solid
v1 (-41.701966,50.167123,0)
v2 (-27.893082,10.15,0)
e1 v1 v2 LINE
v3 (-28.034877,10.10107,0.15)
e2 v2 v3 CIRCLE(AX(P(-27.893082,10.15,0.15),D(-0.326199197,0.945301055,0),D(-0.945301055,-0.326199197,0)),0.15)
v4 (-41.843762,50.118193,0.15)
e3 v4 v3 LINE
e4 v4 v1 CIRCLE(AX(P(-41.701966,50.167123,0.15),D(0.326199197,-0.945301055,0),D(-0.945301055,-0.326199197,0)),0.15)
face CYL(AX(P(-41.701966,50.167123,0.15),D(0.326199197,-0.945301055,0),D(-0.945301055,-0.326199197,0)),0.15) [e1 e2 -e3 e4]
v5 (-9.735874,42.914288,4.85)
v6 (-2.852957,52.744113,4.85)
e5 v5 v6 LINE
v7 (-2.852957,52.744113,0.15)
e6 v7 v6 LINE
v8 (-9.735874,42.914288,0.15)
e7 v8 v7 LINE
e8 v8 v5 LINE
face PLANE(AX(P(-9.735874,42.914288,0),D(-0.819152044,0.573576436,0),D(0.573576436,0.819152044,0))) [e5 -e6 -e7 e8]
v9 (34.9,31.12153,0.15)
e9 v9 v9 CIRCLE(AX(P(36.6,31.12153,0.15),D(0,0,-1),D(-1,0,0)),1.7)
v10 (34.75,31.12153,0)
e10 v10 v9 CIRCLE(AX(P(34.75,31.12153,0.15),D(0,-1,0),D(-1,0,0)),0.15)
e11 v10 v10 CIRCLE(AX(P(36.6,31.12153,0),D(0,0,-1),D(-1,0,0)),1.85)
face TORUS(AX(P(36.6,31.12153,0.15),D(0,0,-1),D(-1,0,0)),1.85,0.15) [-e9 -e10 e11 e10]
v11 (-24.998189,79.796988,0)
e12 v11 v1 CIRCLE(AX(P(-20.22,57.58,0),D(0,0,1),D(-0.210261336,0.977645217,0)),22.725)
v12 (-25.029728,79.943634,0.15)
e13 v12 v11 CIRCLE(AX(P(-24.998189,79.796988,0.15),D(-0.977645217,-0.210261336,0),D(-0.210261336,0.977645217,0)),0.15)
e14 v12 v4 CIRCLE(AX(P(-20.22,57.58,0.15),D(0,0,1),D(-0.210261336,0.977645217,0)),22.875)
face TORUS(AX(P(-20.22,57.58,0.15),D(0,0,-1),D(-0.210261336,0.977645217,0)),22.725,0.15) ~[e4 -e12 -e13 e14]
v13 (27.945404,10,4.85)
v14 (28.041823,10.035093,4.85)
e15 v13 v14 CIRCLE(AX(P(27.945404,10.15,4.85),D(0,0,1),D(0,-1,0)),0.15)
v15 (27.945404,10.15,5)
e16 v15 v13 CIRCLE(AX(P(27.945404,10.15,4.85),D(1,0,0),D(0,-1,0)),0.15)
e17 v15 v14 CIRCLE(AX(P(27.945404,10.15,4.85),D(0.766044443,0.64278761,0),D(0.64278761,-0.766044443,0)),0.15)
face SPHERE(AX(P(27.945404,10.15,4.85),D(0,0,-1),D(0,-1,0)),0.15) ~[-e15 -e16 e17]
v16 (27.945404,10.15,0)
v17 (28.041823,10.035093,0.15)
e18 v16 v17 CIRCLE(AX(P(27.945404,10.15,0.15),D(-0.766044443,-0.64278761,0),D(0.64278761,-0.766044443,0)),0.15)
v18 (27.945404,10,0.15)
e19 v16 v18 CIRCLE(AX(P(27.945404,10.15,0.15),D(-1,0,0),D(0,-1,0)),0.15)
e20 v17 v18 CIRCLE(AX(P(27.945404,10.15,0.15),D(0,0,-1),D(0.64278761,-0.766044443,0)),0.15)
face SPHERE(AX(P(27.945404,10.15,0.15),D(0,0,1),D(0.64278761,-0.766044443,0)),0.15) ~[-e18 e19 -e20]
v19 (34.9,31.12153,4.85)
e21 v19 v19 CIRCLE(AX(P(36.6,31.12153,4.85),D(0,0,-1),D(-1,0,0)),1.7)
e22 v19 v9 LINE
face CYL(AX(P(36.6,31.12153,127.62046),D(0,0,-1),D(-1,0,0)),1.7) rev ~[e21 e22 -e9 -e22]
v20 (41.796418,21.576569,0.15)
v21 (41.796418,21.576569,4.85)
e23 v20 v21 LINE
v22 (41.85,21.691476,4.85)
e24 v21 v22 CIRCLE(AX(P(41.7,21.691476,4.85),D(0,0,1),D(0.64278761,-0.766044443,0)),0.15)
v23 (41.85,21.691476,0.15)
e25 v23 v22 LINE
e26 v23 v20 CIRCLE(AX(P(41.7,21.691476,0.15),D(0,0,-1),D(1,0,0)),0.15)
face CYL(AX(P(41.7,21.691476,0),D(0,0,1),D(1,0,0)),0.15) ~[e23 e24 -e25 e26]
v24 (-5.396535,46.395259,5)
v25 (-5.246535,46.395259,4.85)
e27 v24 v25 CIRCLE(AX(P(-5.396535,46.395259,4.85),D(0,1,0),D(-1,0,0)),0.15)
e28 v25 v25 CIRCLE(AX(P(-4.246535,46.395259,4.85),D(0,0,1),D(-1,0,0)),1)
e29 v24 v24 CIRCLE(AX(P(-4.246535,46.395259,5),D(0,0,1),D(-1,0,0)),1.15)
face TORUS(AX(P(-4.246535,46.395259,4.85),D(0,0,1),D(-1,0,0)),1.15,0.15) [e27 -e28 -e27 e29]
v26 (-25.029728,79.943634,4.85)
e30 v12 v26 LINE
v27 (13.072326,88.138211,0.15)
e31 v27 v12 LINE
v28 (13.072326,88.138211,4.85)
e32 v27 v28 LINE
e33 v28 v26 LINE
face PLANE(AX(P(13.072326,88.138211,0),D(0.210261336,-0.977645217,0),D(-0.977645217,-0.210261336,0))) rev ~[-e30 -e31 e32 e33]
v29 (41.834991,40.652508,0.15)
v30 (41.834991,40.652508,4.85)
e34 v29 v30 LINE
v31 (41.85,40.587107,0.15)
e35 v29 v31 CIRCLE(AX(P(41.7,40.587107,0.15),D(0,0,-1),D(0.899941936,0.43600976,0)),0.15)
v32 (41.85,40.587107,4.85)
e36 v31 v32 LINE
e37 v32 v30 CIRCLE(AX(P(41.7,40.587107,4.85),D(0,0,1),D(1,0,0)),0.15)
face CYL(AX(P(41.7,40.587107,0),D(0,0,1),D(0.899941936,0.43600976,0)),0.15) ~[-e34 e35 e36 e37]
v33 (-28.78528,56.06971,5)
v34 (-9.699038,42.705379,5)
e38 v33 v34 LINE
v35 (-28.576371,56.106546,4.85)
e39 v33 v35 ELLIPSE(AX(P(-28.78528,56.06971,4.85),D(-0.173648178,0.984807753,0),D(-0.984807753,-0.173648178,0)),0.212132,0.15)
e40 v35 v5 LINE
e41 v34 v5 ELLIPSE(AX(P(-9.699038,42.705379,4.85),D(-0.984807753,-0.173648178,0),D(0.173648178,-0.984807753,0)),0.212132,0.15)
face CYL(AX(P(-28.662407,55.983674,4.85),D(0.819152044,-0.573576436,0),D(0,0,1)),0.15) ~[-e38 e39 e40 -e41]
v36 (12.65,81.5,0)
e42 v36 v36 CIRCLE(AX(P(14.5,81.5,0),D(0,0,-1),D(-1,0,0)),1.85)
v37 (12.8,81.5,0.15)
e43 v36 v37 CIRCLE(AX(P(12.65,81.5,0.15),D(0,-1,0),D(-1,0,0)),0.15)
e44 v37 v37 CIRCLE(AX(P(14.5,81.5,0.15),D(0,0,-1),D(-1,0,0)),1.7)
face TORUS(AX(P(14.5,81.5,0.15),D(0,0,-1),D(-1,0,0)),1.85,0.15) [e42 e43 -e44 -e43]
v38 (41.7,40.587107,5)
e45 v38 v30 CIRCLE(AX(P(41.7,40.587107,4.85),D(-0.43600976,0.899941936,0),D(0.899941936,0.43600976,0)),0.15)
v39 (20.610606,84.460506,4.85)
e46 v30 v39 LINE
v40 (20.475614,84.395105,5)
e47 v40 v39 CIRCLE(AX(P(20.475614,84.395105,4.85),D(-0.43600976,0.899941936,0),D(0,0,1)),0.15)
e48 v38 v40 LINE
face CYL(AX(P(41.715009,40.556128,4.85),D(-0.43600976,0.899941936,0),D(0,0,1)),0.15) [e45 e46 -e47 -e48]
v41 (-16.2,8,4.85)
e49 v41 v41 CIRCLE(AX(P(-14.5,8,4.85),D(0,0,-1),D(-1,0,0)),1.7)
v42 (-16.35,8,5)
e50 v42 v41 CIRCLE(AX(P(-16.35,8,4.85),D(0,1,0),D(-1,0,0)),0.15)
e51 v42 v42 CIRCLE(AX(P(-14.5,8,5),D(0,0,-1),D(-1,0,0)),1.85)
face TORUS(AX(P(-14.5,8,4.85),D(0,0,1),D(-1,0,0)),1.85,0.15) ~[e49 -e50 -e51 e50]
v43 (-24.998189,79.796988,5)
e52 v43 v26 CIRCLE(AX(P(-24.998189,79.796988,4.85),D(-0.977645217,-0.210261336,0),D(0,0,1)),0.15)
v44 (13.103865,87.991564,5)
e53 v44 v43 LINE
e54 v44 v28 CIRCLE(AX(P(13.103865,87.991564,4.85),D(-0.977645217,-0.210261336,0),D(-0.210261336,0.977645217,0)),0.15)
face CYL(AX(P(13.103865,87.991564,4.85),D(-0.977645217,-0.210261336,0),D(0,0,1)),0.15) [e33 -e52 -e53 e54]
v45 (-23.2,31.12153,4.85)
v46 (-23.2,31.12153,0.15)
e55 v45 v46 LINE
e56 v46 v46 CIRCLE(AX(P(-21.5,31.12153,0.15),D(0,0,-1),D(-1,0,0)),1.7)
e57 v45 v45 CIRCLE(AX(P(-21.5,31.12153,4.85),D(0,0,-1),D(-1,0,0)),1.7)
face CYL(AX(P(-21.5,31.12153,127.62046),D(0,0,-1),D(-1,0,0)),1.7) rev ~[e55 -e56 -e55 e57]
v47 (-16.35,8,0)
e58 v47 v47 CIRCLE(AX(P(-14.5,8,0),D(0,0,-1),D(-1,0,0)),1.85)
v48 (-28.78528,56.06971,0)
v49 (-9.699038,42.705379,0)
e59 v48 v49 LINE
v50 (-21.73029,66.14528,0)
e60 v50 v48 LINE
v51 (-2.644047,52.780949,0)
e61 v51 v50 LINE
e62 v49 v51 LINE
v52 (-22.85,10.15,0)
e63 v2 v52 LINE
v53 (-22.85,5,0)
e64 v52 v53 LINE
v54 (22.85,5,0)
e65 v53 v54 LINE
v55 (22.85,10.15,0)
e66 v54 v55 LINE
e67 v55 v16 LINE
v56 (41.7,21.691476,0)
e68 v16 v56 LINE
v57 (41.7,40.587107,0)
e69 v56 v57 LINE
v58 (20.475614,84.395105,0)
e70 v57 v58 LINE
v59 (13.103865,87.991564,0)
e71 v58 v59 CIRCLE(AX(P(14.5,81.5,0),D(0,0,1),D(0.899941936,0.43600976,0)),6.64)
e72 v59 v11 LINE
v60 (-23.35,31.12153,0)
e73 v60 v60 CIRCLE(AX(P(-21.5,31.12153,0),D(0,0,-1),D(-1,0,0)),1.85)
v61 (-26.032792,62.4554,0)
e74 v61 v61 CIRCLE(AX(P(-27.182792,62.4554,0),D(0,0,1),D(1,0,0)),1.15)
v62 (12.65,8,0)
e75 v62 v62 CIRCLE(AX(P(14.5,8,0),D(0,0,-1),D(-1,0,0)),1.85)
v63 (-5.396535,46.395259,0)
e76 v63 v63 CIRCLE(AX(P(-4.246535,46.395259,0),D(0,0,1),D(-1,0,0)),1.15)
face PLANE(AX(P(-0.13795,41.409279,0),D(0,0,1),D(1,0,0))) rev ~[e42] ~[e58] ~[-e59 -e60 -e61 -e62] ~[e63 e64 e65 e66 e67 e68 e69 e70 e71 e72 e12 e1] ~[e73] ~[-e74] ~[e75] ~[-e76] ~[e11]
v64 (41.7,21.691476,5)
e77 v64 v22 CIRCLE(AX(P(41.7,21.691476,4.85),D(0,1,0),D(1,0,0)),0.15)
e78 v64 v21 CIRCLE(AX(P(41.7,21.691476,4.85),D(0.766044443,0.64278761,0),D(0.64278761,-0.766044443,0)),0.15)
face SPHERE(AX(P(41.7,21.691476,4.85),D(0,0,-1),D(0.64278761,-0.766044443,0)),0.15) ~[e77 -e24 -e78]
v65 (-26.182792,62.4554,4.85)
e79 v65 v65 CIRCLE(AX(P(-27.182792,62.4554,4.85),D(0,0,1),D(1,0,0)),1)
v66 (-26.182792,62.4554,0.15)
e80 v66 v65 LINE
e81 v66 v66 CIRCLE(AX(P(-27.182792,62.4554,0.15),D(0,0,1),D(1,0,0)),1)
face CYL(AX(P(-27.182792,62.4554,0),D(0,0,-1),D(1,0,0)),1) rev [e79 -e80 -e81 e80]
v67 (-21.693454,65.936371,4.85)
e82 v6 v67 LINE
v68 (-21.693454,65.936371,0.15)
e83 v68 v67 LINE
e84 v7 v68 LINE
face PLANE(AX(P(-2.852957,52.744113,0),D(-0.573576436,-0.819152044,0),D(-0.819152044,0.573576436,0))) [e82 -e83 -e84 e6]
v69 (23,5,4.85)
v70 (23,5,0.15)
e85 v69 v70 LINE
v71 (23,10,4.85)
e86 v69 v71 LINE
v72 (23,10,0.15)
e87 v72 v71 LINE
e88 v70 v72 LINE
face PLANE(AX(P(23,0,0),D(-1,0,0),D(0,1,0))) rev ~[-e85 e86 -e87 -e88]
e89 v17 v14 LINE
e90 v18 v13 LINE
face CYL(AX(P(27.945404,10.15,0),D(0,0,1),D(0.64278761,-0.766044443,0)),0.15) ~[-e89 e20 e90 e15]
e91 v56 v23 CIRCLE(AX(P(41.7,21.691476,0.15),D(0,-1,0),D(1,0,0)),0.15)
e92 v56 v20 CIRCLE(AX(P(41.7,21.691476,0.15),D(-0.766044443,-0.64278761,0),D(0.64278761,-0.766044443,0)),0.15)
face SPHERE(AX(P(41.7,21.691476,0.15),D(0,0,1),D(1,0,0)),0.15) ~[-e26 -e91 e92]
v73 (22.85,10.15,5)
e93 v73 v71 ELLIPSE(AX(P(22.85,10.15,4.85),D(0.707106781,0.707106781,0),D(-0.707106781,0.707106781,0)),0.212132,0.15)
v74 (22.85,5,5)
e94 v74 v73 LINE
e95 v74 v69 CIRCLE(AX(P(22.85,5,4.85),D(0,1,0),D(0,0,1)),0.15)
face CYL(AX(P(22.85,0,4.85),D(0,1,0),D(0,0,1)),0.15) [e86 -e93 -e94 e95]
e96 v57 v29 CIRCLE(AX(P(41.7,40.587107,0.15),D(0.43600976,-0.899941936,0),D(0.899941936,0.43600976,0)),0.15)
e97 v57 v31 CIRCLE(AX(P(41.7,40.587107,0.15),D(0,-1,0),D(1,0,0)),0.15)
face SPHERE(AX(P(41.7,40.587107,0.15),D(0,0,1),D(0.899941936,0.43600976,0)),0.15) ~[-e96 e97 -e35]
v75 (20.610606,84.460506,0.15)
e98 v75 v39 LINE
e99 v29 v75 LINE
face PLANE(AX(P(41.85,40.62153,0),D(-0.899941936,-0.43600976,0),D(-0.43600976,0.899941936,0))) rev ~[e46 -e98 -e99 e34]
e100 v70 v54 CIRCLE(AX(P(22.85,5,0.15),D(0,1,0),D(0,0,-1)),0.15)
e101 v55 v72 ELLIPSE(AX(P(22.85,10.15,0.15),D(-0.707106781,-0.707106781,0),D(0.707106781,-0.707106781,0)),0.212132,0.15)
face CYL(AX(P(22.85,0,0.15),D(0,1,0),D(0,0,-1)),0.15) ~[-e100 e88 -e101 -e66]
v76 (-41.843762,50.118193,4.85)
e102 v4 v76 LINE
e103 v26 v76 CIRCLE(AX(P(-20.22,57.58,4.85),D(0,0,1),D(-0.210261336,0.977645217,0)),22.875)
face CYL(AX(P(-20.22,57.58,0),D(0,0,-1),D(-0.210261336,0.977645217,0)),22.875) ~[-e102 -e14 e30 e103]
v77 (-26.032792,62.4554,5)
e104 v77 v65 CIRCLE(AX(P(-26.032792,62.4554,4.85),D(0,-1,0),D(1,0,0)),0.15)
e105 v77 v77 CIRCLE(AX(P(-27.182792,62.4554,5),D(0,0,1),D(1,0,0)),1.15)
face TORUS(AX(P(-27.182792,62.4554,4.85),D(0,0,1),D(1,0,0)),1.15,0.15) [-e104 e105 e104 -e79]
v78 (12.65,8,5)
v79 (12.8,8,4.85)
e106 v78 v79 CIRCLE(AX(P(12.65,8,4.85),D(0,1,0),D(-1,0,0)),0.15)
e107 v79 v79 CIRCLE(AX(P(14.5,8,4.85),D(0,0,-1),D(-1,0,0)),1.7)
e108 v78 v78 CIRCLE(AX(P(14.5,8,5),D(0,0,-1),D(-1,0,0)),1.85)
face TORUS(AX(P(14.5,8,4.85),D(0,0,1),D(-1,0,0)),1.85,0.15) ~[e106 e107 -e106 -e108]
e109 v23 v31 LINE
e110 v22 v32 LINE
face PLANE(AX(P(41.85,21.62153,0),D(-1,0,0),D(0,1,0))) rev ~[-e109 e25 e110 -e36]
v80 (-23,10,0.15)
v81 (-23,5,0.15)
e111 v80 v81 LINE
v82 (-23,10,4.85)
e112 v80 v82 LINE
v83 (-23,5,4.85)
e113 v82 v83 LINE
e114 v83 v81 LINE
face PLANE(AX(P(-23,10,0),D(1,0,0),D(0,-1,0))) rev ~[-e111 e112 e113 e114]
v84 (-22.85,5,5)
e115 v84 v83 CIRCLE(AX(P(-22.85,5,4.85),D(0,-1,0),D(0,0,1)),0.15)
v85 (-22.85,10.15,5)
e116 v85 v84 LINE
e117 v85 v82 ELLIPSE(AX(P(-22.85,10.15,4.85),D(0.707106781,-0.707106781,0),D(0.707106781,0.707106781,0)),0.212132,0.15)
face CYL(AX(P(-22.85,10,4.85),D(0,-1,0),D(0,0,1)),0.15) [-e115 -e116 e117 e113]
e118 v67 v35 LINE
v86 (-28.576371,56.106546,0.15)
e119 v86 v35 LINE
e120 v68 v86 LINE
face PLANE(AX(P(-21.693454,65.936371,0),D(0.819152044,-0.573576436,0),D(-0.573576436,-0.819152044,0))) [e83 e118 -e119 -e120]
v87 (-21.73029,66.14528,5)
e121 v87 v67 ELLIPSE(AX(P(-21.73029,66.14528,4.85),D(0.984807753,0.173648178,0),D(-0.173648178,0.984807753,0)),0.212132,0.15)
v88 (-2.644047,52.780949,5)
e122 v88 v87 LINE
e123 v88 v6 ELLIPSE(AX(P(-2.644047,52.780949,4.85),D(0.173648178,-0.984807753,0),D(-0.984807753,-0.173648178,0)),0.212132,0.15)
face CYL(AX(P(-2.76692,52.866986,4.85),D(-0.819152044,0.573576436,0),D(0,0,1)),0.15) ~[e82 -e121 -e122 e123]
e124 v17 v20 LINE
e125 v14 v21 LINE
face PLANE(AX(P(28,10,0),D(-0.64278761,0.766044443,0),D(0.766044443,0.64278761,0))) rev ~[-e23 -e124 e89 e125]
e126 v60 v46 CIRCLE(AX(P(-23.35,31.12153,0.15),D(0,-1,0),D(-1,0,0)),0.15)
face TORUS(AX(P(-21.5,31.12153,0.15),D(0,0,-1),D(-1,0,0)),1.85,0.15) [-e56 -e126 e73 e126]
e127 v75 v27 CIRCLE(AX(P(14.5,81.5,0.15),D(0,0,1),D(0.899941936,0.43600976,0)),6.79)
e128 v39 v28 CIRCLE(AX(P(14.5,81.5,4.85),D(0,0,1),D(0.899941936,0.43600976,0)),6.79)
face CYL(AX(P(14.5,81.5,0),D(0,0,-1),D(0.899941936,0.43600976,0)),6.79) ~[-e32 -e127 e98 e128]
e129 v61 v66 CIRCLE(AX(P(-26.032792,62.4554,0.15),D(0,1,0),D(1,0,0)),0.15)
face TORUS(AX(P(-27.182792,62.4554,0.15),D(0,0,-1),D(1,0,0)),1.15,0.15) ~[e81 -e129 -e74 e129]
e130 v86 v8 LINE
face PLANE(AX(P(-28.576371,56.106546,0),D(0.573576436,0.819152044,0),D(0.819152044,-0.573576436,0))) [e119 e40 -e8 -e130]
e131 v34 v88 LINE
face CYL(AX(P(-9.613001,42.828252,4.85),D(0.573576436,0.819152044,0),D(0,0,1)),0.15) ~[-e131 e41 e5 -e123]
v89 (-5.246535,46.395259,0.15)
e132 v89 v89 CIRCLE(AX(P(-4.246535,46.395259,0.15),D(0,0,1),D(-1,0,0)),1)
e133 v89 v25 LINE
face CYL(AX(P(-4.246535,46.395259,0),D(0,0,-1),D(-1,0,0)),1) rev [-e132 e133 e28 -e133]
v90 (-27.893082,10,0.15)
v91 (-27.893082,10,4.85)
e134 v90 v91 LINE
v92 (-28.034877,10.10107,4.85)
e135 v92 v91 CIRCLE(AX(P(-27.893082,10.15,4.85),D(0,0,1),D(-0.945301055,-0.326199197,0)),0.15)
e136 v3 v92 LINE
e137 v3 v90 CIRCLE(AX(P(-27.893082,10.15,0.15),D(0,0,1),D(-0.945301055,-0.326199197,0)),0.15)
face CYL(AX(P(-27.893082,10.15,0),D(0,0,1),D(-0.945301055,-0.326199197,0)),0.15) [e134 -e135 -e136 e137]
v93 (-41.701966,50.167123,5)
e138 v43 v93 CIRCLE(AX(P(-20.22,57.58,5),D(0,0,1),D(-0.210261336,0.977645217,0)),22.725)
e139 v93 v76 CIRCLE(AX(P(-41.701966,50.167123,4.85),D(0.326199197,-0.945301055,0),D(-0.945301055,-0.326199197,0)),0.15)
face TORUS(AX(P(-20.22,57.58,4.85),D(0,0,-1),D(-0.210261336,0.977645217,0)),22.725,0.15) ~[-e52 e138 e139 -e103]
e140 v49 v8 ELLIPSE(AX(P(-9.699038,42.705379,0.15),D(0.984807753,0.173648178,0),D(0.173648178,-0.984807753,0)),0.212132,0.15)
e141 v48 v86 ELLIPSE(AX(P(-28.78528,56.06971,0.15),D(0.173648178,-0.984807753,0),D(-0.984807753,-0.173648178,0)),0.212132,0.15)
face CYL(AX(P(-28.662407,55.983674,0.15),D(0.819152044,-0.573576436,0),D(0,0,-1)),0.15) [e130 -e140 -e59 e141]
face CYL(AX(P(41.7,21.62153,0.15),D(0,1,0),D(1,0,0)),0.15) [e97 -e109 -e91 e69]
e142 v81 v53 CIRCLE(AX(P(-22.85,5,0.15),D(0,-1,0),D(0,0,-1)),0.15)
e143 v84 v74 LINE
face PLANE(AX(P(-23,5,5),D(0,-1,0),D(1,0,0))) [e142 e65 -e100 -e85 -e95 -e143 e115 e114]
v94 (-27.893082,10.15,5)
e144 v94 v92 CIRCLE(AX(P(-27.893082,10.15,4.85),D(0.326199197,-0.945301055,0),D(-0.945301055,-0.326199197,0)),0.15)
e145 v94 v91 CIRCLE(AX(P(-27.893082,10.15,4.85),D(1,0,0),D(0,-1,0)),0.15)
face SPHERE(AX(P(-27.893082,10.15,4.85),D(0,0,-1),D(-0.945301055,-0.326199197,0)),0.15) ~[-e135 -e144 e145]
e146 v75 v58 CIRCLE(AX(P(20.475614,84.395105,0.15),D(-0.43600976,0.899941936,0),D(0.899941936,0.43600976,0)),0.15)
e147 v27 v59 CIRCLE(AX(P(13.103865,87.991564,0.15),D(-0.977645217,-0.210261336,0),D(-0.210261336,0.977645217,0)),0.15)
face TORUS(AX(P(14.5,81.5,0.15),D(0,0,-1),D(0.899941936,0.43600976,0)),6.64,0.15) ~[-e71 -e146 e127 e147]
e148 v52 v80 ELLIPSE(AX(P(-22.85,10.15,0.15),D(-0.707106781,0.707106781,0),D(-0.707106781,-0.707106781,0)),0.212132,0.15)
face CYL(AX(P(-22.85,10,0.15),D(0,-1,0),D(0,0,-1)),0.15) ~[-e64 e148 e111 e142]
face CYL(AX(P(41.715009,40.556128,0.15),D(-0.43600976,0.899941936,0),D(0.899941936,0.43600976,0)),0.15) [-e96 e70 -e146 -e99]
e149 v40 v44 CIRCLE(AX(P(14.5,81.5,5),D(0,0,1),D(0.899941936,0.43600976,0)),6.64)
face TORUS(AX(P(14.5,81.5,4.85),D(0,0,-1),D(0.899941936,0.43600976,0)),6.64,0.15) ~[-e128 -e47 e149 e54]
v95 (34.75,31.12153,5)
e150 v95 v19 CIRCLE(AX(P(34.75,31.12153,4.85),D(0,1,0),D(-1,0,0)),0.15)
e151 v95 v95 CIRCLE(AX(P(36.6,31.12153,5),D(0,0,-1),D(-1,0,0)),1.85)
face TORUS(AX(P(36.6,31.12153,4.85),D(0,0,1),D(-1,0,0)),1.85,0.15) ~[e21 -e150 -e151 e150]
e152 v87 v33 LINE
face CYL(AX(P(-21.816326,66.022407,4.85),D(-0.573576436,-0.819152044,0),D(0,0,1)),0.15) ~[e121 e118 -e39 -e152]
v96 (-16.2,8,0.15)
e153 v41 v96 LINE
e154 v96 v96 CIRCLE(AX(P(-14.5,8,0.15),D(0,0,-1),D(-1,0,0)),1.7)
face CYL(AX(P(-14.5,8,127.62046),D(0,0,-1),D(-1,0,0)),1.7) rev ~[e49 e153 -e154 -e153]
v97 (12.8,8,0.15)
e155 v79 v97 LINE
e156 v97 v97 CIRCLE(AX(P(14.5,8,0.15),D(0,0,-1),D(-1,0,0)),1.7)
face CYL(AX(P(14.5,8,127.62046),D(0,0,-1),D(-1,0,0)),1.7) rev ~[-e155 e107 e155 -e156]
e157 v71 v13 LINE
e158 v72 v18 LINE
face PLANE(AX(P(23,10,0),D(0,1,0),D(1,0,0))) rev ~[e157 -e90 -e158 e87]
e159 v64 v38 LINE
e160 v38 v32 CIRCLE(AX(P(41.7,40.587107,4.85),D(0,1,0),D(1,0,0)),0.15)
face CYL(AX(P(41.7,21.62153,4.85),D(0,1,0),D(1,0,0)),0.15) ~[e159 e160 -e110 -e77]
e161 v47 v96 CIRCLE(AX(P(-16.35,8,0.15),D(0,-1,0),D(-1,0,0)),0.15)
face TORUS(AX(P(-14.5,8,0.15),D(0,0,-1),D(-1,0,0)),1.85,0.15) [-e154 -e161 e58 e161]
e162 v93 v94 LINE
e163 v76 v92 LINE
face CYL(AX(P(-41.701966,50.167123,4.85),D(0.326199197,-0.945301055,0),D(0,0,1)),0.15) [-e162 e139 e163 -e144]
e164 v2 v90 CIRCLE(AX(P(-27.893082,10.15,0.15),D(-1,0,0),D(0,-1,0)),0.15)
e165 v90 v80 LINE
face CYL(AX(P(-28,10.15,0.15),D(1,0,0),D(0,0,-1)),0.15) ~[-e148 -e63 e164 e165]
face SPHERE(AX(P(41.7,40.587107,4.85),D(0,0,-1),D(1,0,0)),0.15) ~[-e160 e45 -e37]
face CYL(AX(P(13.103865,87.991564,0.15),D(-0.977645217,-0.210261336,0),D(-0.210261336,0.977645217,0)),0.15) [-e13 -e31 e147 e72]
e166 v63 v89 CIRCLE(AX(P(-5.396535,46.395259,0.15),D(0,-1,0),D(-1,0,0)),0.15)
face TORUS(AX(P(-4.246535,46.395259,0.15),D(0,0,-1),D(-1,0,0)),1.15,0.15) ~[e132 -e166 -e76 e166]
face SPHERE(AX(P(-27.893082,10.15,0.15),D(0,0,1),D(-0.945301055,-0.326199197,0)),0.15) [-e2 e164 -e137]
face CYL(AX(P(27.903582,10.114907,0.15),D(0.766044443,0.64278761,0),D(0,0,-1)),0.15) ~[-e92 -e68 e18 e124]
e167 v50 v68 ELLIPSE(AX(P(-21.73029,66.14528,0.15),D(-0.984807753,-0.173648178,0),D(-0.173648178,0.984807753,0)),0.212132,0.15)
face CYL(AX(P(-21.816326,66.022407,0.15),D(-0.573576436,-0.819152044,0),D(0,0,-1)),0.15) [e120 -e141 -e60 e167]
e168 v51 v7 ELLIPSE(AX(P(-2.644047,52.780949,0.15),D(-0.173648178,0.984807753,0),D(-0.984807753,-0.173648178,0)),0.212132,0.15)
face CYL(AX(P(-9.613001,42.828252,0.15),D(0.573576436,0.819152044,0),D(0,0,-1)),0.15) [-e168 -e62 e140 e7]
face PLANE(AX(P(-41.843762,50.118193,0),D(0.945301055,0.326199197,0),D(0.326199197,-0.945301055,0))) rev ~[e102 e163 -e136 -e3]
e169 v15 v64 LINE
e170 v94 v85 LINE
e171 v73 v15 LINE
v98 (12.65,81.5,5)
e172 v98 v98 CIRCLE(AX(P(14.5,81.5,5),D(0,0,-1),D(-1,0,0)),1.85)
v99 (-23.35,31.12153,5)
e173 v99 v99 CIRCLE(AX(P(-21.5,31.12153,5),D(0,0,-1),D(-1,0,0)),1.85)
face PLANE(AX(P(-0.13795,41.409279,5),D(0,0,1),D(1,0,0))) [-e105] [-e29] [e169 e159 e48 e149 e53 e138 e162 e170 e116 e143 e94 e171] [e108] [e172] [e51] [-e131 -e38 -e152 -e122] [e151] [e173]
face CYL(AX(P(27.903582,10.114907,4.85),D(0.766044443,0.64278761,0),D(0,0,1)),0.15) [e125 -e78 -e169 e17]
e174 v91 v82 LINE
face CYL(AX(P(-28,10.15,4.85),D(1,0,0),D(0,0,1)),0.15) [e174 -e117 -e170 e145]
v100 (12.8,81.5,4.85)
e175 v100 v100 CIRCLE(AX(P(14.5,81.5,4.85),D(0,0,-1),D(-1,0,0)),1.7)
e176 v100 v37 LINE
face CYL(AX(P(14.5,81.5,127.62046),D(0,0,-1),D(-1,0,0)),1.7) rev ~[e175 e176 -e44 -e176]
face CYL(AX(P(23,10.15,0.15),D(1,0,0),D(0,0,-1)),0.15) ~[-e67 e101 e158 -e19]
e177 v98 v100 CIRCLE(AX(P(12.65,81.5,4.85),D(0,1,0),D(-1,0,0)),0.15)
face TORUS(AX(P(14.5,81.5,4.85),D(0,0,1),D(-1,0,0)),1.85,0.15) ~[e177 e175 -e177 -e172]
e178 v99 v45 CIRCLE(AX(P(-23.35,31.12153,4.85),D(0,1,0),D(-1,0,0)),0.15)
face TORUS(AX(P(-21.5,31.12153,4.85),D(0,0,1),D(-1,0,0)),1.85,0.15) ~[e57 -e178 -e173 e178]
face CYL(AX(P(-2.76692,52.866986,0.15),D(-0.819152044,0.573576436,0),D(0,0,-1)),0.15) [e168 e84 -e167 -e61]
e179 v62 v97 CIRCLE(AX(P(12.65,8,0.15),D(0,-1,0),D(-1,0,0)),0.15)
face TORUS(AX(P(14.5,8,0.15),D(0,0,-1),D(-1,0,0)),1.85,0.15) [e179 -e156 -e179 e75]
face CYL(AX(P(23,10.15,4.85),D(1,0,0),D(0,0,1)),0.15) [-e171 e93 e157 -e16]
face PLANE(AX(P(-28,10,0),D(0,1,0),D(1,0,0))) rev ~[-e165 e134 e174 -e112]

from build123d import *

# Parameters (mm, degrees)
SKETCH1_R            = 1
BOSS_EXTRUDE2_DEPTH  = 5
M3_CLEARANCE_HOLE1_D = 3.4
FILLET1_R            = 0.15
SKETCH13_W           = 46
SKETCH13_H           = 5
CUT_EXTRUDE1_DEPTH   = 99.37328461


with BuildPart() as part:
    # Sketch1 → Boss-Extrude2 (new body)
    with BuildSketch(Plane.XY):
        with BuildLine():
            Line((41.85, 40.621529892), (20.610605748, 84.460506273))
            ThreePointArc((20.610605748, 84.460506273), (17.477220077, 87.602479874), (13.072325527, 88.138211024))
            Line((13.072325527, 88.138211024), (-25.029728066, 79.943634341))
            ThreePointArc((-25.029728066, 79.943634341), (-40.146654928, 68.813612437), (-41.843761624, 50.118193368))
            Line((-41.843761624, 50.118193368), (-28, 10))
            Line((-28, 10), (-23, 10))
            Line((-23, 10), (-23, 0))
            Line((-23, 0), (23, 0))
            Line((23, 0), (23, 10))
            Line((23, 10), (28, 10))
            Line((28, 10), (41.85, 21.621529892))
            Line((41.85, 21.621529892), (41.85, 40.621529892))
        make_face()
        with Locations((-27.182792376, 62.455399709)):
            Circle(SKETCH1_R, mode=Mode.SUBTRACT)
        with Locations(Location((-4.246535136, 46.395259491, 0), (0, 0, 180))):
            Circle(SKETCH1_R, mode=Mode.SUBTRACT)
        Polygon((-21.693453648, 65.936370884), (-28.576370884, 56.106546352), (-9.735873865, 42.914288316), (-2.852956629, 52.744112848), align=None, mode=Mode.SUBTRACT)
    extrude(amount=BOSS_EXTRUDE2_DEPTH)

    # M3 Clearance Hole1 (through all)
    with Locations(Plane.XY.offset(5)):
        with Locations((14.5, 81.5), (36.6, 31.121529892), (14.5, 8), (-14.5, 8), (-21.5, 31.121529892)):
            Hole(M3_CLEARANCE_HOLE1_D / 2)

    # Fillet1
    fillet1_edges = [part.edges().sort_by_distance(p)[0] for p in [
        (31.230302874, 62.541018083, 0),
        (41.85, 31.121529892, 0),
        (-40.146654928, 68.813612437, 5),
        (34.925, 15.810764946, 0),
        (25.5, 10, 0),
        (23, 5, 0),
        (0, 0, 0),
        (-23, 5, 0),
        (-25.5, 10, 0),
        (-34.921880812, 30.059096684, 0),
        (-40.146654928, 68.813612437, 0),
        (-5.978701269, 84.040922682, 0),
        (17.477220077, 87.602479874, 0),
        (-34.921880812, 30.059096684, 5),
        (41.85, 40.621529892, 2.5),
        (41.85, 21.621529892, 2.5),
        (-25.5, 10, 5),
        (28, 10, 2.5),
        (23, 0, 2.5),
        (-23, 0, 2.5),
        (-28, 10, 2.5),
        (-23, 5, 5),
        (0, 0, 5),
        (23, 5, 5),
        (-12.273205138, 59.340241866, 0),
        (-25.134912266, 61.021458618, 0),
        (-19.156122375, 49.510417334, 0),
        (-6.294415247, 47.829200582, 0),
        (-12.273205138, 59.340241866, 5),
        (-25.134912266, 61.021458618, 5),
        (-19.156122375, 49.510417334, 5),
        (-6.294415247, 47.829200582, 5),
        (25.5, 10, 5),
        (34.925, 15.810764946, 5),
        (-28.182792376, 62.455399709, 0),
        (-28.182792376, 62.455399709, 5),
        (41.85, 31.121529892, 5),
        (-3.246535136, 46.395259491, 0),
        (-3.246535136, 46.395259491, 5),
        (31.230302874, 62.541018083, 5),
        (17.477220077, 87.602479874, 5),
        (-19.8, 31.121529892, 5),
        (-19.8, 31.121529892, 0),
        (-12.8, 8, 5),
        (-12.8, 8, 0),
        (16.2, 8, 5),
        (16.2, 8, 0),
        (38.3, 31.121529892, 5),
        (38.3, 31.121529892, 0),
        (16.2, 81.5, 5),
        (16.2, 81.5, 0),
        (-5.978701269, 84.040922682, 5),
    ]]
    fillet(fillet1_edges, radius=FILLET1_R)

    # Sketch13 → Cut-Extrude1 (cut, through all)
    with BuildSketch(Plane.XY.offset(5)):
        with Locations((0, 2.5)):
            Rectangle(SKETCH13_W, SKETCH13_H)
    extrude(amount=-CUT_EXTRUDE1_DEPTH, mode=Mode.SUBTRACT)


solid = part.part
